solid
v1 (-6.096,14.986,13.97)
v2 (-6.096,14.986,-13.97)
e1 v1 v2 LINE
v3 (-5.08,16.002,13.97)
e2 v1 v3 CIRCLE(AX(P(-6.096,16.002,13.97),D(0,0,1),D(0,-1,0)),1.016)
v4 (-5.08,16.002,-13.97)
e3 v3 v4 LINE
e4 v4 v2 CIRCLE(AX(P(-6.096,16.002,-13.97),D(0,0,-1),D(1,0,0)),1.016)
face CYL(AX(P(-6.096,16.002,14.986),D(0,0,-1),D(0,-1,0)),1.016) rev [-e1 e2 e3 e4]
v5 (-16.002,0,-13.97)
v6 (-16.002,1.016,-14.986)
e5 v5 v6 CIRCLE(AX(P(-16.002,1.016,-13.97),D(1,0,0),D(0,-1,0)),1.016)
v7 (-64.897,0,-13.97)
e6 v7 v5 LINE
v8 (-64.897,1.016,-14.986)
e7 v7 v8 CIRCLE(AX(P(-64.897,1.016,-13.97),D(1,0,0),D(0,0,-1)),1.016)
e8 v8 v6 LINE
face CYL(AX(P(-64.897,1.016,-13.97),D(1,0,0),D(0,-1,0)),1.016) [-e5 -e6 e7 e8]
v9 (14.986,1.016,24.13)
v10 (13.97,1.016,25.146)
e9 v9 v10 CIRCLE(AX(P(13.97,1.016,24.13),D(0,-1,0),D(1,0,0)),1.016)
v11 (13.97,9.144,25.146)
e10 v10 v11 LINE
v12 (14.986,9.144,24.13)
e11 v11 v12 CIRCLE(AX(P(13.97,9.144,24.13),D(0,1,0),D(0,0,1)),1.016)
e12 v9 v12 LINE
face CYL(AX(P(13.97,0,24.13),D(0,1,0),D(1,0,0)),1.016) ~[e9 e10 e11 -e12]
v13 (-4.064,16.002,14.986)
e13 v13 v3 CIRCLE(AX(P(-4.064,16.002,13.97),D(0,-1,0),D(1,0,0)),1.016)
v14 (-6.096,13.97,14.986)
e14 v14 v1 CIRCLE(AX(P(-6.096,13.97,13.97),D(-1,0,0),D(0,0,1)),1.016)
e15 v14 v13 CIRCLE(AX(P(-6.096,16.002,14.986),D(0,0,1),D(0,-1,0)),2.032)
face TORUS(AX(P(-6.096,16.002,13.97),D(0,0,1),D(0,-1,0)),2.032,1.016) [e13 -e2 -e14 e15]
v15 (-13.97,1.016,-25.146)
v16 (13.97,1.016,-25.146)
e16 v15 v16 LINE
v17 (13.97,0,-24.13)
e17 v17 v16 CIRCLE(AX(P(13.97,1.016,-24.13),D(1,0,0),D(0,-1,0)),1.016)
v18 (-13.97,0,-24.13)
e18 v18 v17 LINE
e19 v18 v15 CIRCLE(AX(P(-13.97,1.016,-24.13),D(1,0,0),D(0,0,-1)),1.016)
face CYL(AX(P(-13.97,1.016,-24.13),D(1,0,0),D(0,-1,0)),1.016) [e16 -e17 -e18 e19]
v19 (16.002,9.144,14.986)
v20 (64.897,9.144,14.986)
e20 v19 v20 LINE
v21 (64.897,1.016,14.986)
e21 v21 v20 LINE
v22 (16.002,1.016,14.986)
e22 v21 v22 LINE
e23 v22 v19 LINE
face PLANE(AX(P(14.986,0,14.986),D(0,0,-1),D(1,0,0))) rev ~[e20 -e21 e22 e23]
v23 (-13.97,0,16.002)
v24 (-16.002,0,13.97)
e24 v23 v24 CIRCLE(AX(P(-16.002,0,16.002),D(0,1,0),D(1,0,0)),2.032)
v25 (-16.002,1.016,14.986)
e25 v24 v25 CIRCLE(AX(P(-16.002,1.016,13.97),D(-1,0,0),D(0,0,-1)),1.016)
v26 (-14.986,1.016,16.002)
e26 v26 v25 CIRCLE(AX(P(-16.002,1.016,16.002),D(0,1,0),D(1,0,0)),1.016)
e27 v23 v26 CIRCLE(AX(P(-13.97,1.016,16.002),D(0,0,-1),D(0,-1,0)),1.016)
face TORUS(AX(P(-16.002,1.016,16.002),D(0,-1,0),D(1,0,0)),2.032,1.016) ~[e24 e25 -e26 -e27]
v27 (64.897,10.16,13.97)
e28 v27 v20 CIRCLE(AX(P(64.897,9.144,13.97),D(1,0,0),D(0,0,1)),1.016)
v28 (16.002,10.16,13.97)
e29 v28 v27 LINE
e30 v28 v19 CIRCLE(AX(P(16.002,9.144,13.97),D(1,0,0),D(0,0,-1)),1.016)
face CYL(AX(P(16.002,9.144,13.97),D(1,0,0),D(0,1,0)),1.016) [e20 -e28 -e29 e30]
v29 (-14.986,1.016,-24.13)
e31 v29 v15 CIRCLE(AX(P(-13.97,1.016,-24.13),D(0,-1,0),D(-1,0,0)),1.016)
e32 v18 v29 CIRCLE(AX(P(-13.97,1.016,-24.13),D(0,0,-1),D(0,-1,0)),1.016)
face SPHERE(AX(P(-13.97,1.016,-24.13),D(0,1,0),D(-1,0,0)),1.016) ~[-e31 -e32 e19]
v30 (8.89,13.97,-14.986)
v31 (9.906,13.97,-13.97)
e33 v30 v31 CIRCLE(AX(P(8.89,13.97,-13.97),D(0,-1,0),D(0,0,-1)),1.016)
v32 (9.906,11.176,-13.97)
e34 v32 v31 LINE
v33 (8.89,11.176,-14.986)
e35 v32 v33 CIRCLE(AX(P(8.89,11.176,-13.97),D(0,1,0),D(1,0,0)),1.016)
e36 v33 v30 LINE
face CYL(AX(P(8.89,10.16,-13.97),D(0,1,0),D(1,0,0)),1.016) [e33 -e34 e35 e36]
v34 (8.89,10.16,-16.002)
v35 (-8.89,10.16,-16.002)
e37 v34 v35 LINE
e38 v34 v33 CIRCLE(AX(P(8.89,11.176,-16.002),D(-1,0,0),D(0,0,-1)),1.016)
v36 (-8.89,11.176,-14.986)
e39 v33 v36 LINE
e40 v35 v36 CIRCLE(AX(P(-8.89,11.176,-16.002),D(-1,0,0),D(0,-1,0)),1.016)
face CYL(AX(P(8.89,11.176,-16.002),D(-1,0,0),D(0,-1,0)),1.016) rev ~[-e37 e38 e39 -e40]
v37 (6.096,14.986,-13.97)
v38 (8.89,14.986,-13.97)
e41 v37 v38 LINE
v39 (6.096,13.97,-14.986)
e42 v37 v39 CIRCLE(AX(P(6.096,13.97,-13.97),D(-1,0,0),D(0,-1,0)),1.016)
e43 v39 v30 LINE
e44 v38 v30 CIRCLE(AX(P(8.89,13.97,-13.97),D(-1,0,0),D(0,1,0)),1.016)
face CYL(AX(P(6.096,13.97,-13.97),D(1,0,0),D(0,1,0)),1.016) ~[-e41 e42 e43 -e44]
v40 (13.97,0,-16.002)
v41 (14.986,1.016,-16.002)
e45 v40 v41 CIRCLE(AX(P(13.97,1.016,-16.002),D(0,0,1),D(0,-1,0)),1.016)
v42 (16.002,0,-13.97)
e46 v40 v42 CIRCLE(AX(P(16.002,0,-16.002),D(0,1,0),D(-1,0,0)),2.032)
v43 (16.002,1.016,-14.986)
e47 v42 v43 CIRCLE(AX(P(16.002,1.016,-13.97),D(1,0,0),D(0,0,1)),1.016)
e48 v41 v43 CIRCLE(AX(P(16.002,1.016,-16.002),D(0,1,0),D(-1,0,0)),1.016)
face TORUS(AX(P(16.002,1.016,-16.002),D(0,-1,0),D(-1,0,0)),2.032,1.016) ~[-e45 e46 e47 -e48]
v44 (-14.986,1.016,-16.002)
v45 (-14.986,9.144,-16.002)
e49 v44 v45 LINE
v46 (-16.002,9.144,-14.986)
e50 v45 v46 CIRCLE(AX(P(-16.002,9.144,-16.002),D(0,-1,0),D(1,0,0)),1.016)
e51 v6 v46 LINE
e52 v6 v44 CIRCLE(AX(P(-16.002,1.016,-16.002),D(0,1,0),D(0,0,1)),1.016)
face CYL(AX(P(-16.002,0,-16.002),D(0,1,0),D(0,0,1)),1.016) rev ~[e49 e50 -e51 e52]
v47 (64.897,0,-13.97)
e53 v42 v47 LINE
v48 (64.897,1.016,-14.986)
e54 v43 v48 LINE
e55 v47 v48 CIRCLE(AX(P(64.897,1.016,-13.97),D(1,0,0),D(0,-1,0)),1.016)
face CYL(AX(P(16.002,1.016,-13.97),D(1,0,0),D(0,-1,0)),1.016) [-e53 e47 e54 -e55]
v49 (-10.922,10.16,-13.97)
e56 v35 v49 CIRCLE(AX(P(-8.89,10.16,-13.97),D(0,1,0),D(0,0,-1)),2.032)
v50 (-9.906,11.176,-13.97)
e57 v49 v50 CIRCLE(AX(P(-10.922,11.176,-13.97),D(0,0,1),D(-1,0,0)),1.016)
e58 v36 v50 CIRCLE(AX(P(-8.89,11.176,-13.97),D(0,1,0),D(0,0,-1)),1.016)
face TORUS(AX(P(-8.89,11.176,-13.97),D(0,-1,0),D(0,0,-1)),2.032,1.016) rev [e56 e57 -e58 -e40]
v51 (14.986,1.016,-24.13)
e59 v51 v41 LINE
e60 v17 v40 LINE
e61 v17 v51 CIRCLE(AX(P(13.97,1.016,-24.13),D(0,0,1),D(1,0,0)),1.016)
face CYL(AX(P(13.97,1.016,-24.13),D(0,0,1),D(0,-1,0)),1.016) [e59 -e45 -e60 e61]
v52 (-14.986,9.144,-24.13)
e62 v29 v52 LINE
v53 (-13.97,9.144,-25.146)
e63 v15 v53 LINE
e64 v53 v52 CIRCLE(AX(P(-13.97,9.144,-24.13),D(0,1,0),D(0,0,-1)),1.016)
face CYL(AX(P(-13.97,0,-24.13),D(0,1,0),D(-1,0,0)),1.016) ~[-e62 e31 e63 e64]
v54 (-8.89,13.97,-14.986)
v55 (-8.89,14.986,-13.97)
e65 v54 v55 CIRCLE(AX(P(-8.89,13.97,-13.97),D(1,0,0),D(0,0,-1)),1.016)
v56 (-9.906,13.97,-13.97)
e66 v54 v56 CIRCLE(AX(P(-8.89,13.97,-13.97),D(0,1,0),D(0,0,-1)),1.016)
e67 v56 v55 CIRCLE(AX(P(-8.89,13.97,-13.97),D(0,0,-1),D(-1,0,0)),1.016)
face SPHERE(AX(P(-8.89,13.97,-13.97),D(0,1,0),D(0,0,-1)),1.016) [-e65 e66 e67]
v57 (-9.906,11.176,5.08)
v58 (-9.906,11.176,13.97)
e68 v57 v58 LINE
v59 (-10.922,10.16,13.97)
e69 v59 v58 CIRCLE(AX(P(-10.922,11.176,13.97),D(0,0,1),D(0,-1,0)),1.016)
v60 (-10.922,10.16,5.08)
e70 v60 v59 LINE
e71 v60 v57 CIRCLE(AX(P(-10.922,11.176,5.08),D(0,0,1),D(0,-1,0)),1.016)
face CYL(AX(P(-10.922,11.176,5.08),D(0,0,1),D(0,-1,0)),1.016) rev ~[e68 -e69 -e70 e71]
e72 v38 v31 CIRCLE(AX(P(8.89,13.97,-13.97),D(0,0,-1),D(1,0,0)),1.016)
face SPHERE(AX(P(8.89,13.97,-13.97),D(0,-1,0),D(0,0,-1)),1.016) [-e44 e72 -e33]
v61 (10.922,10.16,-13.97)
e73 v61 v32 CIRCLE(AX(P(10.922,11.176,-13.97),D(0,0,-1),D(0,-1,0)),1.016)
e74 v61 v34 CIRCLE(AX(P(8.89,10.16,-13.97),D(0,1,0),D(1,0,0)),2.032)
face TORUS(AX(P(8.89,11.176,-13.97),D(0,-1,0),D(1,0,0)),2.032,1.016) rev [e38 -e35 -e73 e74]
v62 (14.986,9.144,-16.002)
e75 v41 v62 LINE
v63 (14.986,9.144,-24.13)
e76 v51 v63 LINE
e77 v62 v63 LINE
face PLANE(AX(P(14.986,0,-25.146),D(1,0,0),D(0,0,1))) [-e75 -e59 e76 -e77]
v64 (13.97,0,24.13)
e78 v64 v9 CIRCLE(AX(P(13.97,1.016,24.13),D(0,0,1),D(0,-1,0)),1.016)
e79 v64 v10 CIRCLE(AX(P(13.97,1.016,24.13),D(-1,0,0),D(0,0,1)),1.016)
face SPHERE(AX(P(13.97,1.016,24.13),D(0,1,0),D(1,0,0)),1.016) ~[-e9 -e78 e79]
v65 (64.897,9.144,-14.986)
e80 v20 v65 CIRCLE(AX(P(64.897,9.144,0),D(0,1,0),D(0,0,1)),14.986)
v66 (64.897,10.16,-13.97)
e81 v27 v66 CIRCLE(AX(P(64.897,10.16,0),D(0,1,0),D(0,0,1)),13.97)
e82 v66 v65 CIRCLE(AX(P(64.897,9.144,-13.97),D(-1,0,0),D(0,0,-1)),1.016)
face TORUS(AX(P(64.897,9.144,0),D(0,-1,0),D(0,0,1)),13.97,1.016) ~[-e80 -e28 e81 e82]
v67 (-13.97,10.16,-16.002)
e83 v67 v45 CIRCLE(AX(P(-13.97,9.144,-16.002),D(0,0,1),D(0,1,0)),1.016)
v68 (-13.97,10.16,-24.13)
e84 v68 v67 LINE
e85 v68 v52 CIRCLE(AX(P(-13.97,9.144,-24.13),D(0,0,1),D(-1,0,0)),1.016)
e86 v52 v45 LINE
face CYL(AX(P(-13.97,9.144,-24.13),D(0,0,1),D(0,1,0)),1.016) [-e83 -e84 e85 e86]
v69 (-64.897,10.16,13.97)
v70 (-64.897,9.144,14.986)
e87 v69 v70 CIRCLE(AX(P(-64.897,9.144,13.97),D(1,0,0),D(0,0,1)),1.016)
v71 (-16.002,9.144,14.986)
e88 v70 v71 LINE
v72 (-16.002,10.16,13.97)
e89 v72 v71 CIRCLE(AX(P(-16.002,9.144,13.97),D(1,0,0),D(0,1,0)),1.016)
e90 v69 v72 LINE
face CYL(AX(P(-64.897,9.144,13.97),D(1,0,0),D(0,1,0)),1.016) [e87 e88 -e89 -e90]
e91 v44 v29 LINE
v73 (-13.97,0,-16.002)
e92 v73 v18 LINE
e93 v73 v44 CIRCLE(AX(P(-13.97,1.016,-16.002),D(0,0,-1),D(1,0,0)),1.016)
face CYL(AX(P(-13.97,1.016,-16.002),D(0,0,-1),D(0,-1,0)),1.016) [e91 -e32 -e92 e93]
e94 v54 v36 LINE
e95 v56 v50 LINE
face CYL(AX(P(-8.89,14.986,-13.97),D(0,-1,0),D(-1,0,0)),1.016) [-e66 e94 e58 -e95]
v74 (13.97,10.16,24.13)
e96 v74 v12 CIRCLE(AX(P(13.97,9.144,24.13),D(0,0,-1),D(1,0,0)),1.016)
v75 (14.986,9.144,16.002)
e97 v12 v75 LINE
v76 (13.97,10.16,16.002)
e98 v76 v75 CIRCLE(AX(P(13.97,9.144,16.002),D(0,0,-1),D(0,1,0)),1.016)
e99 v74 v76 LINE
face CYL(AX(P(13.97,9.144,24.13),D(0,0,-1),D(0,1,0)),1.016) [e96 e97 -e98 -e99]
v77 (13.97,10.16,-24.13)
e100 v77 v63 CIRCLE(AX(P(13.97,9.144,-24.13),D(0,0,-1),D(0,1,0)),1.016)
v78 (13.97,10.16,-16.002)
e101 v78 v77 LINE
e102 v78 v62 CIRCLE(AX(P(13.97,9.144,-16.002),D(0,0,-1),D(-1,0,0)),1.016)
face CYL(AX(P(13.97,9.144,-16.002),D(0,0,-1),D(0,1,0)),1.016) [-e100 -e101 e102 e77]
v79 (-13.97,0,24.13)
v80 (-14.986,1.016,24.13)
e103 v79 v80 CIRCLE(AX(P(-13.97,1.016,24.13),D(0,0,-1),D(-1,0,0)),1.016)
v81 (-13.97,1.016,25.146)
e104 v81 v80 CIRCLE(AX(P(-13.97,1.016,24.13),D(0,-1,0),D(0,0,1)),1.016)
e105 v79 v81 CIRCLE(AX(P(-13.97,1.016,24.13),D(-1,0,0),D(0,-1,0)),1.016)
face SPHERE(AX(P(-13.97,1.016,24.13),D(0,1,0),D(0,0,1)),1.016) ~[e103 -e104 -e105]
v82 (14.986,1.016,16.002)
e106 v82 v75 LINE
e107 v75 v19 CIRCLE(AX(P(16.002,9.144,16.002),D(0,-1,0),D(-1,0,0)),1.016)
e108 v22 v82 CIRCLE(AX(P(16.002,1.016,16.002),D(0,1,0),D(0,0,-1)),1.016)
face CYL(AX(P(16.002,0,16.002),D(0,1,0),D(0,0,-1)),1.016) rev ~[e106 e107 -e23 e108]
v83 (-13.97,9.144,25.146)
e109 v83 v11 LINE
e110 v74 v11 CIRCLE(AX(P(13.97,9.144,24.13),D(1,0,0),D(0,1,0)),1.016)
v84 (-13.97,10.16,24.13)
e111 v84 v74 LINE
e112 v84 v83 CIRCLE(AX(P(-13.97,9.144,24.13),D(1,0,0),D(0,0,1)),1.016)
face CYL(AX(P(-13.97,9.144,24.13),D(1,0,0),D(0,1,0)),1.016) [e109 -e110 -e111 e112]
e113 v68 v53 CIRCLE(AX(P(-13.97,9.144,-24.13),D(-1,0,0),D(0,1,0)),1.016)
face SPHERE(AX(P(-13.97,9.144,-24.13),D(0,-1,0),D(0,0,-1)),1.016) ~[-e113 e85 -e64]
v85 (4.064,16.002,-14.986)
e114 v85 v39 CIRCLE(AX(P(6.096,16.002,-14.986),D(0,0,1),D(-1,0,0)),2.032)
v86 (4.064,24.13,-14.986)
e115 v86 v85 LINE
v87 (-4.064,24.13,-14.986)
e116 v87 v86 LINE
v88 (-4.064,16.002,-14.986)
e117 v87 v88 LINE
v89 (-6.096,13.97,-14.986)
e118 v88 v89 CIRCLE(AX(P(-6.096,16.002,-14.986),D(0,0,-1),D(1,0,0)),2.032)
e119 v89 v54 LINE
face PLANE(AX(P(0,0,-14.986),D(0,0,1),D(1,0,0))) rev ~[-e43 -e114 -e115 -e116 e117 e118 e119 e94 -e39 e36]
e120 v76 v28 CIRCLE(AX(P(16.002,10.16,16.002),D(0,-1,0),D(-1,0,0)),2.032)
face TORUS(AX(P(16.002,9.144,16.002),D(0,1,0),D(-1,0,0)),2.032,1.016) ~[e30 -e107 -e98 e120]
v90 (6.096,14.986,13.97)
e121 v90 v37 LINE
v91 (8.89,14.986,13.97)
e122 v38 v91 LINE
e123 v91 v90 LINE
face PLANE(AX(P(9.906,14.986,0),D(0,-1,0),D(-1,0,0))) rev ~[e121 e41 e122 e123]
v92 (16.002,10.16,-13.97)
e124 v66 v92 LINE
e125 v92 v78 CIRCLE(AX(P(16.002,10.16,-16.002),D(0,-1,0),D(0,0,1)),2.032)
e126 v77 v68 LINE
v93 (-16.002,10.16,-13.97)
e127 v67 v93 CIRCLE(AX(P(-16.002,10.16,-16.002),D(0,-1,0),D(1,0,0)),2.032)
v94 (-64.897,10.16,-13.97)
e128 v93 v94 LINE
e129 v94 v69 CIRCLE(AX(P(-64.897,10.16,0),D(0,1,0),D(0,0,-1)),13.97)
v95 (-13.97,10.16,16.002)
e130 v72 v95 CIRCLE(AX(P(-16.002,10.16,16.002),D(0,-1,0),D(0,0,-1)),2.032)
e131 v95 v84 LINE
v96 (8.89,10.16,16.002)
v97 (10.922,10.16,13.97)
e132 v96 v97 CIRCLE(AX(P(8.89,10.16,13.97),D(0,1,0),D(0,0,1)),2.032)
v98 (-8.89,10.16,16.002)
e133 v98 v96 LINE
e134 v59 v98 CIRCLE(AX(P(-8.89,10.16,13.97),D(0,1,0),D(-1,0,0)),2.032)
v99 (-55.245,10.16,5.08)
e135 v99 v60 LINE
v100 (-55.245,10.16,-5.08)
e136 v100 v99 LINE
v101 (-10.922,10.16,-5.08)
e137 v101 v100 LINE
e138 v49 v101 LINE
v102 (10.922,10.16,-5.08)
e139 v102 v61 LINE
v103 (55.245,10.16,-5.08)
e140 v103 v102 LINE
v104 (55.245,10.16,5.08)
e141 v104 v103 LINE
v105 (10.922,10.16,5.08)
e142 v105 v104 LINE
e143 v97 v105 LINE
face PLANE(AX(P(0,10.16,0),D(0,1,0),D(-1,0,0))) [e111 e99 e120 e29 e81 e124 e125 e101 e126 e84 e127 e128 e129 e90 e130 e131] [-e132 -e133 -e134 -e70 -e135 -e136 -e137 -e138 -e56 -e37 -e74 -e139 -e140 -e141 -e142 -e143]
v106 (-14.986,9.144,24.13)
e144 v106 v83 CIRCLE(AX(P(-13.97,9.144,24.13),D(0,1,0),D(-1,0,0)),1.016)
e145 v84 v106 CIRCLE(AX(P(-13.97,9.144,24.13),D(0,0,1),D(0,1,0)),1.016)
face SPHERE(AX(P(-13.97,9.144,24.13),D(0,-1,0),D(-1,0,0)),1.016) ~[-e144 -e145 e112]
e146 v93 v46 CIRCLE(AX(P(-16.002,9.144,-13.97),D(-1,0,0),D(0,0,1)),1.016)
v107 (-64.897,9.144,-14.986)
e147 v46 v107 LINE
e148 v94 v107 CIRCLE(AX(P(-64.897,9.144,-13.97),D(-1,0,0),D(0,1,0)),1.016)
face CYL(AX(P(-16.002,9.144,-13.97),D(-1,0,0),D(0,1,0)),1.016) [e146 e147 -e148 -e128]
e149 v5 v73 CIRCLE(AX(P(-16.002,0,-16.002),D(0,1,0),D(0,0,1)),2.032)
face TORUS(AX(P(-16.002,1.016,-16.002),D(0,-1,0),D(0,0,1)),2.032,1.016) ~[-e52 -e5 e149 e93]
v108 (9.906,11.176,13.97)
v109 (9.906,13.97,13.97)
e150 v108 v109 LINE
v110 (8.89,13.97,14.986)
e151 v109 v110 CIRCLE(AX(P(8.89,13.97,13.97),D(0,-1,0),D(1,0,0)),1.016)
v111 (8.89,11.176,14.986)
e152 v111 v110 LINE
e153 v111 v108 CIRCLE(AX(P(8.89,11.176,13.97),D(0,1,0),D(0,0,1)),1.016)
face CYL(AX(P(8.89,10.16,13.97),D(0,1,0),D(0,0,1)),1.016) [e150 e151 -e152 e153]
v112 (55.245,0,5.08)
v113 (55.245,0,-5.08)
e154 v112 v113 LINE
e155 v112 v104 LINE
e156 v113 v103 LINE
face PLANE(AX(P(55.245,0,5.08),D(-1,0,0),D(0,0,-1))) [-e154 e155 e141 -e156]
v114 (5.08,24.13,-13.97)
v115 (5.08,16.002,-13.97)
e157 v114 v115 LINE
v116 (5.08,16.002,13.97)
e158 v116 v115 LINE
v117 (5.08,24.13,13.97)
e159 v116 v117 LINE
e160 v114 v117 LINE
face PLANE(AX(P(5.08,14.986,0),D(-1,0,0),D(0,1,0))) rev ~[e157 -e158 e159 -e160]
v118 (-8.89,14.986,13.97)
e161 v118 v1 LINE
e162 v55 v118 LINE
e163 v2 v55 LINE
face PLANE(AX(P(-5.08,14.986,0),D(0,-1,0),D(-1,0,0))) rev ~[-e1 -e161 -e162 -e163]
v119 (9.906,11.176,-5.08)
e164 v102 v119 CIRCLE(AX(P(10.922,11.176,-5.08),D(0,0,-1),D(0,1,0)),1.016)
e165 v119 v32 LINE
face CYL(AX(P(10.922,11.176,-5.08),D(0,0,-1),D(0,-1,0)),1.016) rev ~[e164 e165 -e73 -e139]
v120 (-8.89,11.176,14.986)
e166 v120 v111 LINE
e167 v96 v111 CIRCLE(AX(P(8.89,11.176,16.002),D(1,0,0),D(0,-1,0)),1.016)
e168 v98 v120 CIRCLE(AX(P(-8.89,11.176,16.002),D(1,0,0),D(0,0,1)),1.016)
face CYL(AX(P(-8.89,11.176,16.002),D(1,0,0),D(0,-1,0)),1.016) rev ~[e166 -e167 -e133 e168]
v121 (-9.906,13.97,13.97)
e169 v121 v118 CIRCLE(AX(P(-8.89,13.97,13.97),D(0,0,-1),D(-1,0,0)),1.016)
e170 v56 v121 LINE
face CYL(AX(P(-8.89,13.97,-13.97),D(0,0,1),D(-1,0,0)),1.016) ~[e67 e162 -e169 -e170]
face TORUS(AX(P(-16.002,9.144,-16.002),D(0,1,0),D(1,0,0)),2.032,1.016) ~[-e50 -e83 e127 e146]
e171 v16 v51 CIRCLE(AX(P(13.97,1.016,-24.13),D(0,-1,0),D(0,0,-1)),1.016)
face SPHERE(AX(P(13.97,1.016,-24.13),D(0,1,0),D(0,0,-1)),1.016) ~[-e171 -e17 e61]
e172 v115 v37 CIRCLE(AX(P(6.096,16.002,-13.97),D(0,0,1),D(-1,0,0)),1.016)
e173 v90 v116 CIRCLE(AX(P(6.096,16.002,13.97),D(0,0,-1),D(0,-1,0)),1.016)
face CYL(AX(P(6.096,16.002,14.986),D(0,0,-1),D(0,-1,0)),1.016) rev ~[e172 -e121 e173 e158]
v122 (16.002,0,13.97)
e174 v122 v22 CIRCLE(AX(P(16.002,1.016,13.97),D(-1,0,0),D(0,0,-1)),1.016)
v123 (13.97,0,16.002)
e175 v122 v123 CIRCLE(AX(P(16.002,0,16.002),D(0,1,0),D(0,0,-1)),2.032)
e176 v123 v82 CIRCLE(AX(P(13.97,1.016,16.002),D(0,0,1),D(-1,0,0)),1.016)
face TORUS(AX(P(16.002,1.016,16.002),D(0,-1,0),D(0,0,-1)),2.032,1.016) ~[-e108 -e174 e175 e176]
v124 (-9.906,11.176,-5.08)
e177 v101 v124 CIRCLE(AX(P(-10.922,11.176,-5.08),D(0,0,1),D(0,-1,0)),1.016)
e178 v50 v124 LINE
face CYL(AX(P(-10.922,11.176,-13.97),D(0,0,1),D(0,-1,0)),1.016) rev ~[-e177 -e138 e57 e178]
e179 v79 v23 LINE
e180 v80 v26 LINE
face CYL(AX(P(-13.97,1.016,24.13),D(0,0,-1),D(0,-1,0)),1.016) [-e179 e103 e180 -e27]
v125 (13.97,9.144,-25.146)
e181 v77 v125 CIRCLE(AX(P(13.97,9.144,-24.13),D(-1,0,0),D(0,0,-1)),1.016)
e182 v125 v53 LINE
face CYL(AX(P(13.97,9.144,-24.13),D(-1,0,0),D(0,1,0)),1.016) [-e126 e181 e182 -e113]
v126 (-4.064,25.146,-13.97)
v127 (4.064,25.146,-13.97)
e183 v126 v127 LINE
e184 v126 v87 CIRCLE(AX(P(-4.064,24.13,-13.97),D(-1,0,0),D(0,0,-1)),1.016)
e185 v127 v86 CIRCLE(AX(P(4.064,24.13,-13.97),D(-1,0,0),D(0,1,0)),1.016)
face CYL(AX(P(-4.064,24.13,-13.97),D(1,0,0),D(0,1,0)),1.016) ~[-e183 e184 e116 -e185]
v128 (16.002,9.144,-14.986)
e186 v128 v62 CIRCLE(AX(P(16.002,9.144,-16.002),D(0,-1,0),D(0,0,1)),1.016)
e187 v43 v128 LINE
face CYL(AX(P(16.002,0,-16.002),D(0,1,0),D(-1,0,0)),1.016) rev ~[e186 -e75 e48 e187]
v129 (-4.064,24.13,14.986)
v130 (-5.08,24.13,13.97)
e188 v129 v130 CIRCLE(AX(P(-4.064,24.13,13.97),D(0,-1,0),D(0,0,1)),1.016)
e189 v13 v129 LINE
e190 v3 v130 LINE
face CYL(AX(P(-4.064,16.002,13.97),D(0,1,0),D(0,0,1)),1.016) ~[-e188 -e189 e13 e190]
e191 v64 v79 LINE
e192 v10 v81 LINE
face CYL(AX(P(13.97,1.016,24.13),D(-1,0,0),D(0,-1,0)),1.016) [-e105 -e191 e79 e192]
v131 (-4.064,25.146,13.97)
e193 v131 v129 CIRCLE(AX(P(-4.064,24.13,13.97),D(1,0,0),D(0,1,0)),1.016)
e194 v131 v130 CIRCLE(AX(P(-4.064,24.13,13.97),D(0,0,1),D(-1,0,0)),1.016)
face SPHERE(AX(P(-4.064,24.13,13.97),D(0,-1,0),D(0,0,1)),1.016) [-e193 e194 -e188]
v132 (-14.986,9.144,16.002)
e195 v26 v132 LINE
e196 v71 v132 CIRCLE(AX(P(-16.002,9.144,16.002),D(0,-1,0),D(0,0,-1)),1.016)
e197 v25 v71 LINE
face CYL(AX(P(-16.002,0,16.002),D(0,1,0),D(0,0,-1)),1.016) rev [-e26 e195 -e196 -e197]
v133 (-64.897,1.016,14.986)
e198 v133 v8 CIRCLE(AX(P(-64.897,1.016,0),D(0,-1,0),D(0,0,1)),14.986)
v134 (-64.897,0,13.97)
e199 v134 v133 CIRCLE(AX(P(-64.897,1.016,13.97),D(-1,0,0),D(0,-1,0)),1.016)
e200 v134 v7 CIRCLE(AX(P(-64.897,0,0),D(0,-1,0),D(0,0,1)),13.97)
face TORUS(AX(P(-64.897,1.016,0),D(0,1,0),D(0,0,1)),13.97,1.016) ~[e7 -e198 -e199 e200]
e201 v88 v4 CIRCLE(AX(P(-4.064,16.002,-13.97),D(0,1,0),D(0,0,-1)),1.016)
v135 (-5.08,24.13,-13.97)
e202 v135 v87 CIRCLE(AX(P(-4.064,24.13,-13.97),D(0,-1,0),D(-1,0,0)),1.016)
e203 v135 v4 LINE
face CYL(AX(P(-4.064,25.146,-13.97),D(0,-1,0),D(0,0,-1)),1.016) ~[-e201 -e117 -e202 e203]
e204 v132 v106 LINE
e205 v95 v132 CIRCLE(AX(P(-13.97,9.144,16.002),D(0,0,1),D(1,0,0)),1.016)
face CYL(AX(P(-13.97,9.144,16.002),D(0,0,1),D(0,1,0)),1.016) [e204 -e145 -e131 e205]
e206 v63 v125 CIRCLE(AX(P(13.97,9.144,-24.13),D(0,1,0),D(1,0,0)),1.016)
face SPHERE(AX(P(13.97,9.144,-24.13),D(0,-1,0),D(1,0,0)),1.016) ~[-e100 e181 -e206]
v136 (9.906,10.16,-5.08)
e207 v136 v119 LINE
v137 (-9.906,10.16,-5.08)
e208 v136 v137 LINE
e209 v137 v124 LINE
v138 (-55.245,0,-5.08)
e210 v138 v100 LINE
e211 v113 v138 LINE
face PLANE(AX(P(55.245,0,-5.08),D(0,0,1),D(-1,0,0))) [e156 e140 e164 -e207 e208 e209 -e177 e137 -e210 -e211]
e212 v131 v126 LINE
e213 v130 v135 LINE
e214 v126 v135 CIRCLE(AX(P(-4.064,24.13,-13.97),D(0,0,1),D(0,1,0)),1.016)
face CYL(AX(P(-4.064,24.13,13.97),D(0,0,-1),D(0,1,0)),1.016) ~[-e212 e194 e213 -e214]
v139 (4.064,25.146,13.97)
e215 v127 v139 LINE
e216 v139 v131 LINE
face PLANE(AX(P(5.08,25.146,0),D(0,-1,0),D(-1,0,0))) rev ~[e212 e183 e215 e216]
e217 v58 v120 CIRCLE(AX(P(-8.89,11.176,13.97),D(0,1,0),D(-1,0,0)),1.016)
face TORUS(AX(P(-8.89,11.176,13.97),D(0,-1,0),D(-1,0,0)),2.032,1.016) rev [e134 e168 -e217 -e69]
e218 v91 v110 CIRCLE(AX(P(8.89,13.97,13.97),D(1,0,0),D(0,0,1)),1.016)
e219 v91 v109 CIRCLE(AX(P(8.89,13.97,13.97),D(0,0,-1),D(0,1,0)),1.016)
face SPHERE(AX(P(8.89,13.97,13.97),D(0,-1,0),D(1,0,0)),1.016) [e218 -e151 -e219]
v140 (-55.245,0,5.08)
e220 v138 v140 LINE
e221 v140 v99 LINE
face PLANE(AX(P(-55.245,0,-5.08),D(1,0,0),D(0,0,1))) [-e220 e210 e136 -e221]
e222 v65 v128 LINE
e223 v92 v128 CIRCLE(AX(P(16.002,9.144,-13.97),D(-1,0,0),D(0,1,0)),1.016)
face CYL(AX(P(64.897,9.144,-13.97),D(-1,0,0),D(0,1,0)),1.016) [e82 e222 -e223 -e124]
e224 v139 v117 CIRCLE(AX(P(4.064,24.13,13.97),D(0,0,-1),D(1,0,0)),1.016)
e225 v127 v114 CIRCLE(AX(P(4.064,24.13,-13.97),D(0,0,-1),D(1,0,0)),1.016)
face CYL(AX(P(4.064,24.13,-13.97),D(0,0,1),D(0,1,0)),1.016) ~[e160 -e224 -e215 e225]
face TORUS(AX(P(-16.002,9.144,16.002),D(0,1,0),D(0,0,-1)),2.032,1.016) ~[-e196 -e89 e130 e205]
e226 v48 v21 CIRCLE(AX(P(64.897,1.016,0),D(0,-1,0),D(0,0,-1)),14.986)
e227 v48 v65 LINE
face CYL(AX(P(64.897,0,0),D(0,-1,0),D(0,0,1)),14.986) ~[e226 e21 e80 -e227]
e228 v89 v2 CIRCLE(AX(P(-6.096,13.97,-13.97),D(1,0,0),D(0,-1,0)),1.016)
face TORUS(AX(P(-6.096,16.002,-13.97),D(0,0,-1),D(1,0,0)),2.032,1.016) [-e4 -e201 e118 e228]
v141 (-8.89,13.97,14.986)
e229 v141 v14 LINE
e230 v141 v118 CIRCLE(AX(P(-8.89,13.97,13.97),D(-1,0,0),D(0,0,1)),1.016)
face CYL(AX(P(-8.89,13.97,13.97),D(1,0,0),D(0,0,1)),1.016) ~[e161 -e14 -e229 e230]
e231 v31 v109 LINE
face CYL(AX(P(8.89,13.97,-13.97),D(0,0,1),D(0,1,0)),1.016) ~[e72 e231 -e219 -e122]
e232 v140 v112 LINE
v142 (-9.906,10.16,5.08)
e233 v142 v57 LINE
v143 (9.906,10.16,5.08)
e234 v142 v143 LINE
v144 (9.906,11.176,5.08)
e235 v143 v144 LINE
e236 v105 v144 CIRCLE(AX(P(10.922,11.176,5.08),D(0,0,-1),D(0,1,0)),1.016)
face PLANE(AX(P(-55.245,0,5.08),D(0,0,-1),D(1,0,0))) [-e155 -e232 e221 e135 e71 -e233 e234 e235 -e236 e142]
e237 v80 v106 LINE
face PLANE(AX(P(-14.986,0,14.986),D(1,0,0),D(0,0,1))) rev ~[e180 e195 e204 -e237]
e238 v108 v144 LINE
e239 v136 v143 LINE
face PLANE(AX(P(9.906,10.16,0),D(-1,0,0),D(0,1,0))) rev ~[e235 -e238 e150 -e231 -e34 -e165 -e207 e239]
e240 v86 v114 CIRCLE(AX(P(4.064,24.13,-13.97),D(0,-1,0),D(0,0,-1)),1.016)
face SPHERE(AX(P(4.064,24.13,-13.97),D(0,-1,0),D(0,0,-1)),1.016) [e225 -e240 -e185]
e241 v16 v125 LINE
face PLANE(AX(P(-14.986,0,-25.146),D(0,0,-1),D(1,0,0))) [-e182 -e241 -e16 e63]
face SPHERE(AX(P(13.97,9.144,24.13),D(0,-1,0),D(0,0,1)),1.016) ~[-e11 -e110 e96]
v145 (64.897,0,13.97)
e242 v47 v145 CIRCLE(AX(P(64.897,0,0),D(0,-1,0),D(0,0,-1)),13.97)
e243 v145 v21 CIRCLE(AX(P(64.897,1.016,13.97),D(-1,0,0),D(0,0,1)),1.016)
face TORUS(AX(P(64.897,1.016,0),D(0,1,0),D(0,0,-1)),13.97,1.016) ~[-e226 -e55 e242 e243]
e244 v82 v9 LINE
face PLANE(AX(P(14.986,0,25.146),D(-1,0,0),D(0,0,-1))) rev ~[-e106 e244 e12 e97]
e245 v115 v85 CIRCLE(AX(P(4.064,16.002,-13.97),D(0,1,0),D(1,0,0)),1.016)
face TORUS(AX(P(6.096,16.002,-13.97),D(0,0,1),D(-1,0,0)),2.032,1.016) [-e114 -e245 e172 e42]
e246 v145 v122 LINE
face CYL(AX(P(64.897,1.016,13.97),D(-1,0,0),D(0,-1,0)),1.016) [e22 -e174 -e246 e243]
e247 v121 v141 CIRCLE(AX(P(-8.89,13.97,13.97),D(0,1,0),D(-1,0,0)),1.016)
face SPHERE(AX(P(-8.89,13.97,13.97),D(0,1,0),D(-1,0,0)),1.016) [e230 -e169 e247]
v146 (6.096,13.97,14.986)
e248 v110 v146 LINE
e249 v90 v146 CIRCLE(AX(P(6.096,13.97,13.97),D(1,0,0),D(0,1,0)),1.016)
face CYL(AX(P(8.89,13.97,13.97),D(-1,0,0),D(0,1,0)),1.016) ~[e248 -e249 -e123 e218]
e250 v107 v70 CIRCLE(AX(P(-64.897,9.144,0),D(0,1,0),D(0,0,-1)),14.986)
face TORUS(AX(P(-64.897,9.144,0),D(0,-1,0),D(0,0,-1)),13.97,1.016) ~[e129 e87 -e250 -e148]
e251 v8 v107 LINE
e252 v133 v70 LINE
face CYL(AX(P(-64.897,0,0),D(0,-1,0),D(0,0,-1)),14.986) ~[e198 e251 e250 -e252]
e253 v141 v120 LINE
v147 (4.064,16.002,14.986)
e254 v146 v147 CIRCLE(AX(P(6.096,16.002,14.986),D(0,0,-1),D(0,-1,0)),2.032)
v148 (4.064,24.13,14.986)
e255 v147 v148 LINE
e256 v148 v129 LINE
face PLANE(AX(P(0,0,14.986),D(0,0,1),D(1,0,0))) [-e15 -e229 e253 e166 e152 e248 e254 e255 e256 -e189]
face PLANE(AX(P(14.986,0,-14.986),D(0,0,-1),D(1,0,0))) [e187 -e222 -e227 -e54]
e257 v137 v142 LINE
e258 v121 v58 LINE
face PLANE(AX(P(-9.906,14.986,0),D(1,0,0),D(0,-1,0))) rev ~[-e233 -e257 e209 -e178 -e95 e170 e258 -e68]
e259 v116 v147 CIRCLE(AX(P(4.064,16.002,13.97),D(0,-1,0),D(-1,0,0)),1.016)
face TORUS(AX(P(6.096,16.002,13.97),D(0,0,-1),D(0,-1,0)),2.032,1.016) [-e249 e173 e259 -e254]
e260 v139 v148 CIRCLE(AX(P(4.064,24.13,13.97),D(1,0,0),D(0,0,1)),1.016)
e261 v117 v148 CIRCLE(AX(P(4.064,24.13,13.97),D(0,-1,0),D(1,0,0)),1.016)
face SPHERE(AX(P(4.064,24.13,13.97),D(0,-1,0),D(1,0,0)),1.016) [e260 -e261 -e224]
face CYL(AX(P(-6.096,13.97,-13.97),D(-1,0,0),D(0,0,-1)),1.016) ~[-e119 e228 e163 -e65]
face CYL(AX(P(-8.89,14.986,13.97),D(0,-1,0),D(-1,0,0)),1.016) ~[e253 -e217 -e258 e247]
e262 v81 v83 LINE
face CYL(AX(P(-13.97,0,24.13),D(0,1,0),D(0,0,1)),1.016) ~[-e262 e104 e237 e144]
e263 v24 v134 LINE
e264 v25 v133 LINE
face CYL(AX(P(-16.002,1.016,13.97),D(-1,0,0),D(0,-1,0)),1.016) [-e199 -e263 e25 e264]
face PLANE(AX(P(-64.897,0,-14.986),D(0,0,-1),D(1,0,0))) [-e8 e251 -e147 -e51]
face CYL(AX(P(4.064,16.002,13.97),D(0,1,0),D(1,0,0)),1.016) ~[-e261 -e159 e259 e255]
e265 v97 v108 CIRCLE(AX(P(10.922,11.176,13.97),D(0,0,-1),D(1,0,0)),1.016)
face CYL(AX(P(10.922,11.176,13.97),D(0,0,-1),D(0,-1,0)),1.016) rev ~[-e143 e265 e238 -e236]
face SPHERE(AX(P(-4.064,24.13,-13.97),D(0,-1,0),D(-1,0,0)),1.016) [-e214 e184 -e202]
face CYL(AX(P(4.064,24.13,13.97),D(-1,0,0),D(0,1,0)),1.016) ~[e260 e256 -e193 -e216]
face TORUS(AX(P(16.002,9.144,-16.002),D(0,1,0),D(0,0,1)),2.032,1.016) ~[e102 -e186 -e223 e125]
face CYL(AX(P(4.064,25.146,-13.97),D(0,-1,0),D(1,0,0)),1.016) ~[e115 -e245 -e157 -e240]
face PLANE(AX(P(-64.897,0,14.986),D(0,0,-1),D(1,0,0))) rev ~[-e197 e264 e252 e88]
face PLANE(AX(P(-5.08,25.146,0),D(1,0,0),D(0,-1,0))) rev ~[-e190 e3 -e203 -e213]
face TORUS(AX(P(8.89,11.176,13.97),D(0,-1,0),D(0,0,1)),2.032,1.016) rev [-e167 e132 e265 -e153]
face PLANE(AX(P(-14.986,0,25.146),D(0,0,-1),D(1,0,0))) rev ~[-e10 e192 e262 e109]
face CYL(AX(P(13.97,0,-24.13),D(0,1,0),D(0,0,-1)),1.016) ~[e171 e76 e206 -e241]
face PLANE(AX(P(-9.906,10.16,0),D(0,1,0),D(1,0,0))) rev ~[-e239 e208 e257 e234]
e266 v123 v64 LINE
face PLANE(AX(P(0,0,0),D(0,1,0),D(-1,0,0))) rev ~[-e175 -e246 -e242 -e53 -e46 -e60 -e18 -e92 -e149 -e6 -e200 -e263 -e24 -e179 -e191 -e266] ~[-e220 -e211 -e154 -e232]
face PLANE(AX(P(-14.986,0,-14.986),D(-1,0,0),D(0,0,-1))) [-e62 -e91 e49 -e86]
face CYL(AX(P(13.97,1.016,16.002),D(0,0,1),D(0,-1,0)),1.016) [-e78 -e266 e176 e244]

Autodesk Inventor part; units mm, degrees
ref_plane "YZ Plane" through (0, 0, 0) normal (1, 0, 0) x (0, 1, 0)
ref_plane "XZ Plane" through (0, 0, 0) normal (0, 1, 0) x (-1, 0, 0)
ref_plane "XY Plane" through (0, 0, 0) normal (0, 0, 1) x (1, 0, 0)
sketch "Sketch1" plane through (0, 0, 0) normal (0, 1, 0) x (-1, 0, 0)
  arc A0 (64.897, -14.986) -> (64.897, 14.986) centre (64.897, 0) ccw
  arc A1 (-64.897, 14.986) -> (-64.897, -14.986) centre (-64.897, 0) ccw
  line L0 (64.897, 14.986) -> (14.986, 14.986)
  line L1 (14.986, 14.986) -> (14.986, 25.146)
  line L2 (14.986, 25.146) -> (-14.986, 25.146)
  line L3 (-14.986, 25.146) -> (-14.986, 14.986)
  line L4 (-14.986, 14.986) -> (-64.897, 14.986)
  line L5 (64.897, -14.986) -> (14.986, -14.986)
  line L6 (14.986, -14.986) -> (14.986, -25.146)
  line L7 (14.986, -25.146) -> (-14.986, -25.146)
  line L8 (-14.986, -25.146) -> (-14.986, -14.986)
  line L9 (-14.986, -14.986) -> (-64.897, -14.986)
  line L10 (0, 0) -> (0, -36.9179) construction
  line L11 (0, 0) -> (35.3103, 0) construction
  line L12 (55.245, 5.08) -> (-55.245, 5.08)
  line L13 (-55.245, 5.08) -> (-55.245, -5.08)
  line L14 (-55.245, -5.08) -> (55.245, -5.08)
  line L15 (55.245, -5.08) -> (55.245, 5.08)
  line L16 (55.245, 5.08) -> (-55.245, -5.08) construction
  line L17 (-55.245, 5.08) -> (55.245, -5.08) construction
  dimension "d0" = 129.794
  dimension "d1" = 14.986
  dimension "d2" = 29.972
  dimension "d3" = 110.49
  dimension "d4" = 10.16
  dimension "d5" = 10.16
extrude "Extrusion1" add sketch "Sketch1" along normal blind 10.16
sketch "Sketch2" plane through (0, 0, 0) normal (0, 0, 1) x (1, 0, 0)
  line L0 (-9.906, 10.16) -> (9.906, 10.16)
  line L1 (-14.986, 10.16) -> (14.986, 10.16) projected
  line L2 (9.906, 10.16) -> (9.906, 14.986)
  line L3 (9.906, 14.986) -> (5.08, 14.986)
  line L4 (5.08, 14.986) -> (5.08, 25.146)
  line L5 (5.08, 25.146) -> (-5.08, 25.146)
  line L6 (-5.08, 25.146) -> (-5.08, 14.986)
  line L7 (-5.08, 14.986) -> (-9.906, 14.986)
  line L8 (-9.906, 14.986) -> (-9.906, 10.16)
  line L9 (0, 0) -> (0, 16.6133) construction
  dimension "d8" = 19.812
  dimension "d9" = 10.16
  dimension "d10" = 10.16
  dimension "d11" = 4.826
  dimension "d12" = 5.08
extrude "Extrusion2" add sketch "Sketch2" along normal mid plane 29.972
fillet "Fillet1" radius 1.016 8 edges at (14.986, 5.08, 14.986) (14.986, 5.08, 25.146) (-14.986, 5.08, 25.146) (-14.986, 5.08, 14.986) (-14.986, 5.08, -14.986) (-14.986, 5.08, -25.146) (14.986, 5.08, -25.146) (14.986, 5.08, -14.986)
fillet "Fillet2" radius 1.016 40 edges at (79.883, 10.16, 0) (40.4495, 10.16, -14.986) (15.2836, 10.16, -15.2836) (14.986, 10.16, -20.066) (14.6884, 10.16, -24.8484) (0, 10.16, -25.146) (-14.6884, 10.16, -24.8484) (-14.986, 10.16, -20.066) (-15.2836, 10.16, -15.2836) (-40.4495, 10.16, -14.986) (-79.883, 10.16, 0) (-40.4495, 10.16, 14.986) (-15.2836, 10.16, 15.2836) (-14.986, 10.16, 20.066) (-14.6884, 10.16, 24.8484) (0, 10.16, 25.146) (14.6884, 10.16, 24.8484) (14.986, 10.16, 20.066) (15.2836, 10.16, 15.2836) (40.4495, 10.16, 14.986) (15.2836, 0, 15.2836) (14.986, 0, 20.066) (14.6884, 0, 24.8484) (0, 0, 25.146) (-14.6884, 0, 24.8484) (-14.986, 0, 20.066) (-15.2836, 0, 15.2836) (-40.4495, 0, 14.986) (-79.883, 0, 0) (-40.4495, 0, -14.986) (-15.2836, 0, -15.2836) (-14.986, 0, -20.066) (-14.6884, 0, -24.8484) (0, 0, -25.146) (14.6884, 0, -24.8484) (14.986, 0, -20.066) (15.2836, 0, -15.2836) (40.4495, 0, -14.986) (79.883, 0, 0) (40.4495, 0, 14.986)
fillet "Fillet3" radius 1.016 4 edges at (9.906, 12.573, 14.986) (-9.906, 12.573, 14.986) (9.906, 12.573, -14.986) (-9.906, 12.573, -14.986)
fillet "Fillet4" radius 1.016 10 edges at (-9.6084, 10.16, 14.6884) (-9.906, 10.16, 9.525) (9.6084, 10.16, 14.6884) (9.906, 10.16, 9.525) (0, 10.16, 14.986) (9.6084, 10.16, -14.6884) (0, 10.16, -14.986) (-9.6084, 10.16, -14.6884) (-9.906, 10.16, -9.525) (9.906, 10.16, -9.525)
fillet "Fillet5" radius 1.016 2 edges at (5.08, 14.986, 0) (-5.08, 14.986, 0)
fillet "Fillet6" radius 1.016 18 edges at (9.906, 14.986, 0) (9.6084, 14.986, 14.6884) (7.493, 14.986, 14.986) (5.3776, 15.2836, 14.986) (5.08, 20.574, 14.986) (7.493, 14.986, -14.986) (5.3776, 15.2836, -14.986) (5.08, 20.574, -14.986) (9.6084, 14.986, -14.6884) (-5.3776, 15.2836, 14.986) (-7.493, 14.986, 14.986) (-9.6084, 14.986, 14.6884) (-9.906, 14.986, 0) (-9.6084, 14.986, -14.6884) (-7.493, 14.986, -14.986) (-5.3776, 15.2836, -14.986) (-5.08, 20.574, -14.986) (-5.08, 20.574, 14.986)
fillet "Fillet7" radius 1.016 8 edges at (4.7824, 25.146, 14.6884) (0, 25.146, 14.986) (-4.7824, 25.146, 14.6884) (-5.08, 25.146, 0) (-4.7824, 25.146, -14.6884) (0, 25.146, -14.986) (4.7824, 25.146, -14.6884) (5.08, 25.146, 0)
properties part number "Slider1"
